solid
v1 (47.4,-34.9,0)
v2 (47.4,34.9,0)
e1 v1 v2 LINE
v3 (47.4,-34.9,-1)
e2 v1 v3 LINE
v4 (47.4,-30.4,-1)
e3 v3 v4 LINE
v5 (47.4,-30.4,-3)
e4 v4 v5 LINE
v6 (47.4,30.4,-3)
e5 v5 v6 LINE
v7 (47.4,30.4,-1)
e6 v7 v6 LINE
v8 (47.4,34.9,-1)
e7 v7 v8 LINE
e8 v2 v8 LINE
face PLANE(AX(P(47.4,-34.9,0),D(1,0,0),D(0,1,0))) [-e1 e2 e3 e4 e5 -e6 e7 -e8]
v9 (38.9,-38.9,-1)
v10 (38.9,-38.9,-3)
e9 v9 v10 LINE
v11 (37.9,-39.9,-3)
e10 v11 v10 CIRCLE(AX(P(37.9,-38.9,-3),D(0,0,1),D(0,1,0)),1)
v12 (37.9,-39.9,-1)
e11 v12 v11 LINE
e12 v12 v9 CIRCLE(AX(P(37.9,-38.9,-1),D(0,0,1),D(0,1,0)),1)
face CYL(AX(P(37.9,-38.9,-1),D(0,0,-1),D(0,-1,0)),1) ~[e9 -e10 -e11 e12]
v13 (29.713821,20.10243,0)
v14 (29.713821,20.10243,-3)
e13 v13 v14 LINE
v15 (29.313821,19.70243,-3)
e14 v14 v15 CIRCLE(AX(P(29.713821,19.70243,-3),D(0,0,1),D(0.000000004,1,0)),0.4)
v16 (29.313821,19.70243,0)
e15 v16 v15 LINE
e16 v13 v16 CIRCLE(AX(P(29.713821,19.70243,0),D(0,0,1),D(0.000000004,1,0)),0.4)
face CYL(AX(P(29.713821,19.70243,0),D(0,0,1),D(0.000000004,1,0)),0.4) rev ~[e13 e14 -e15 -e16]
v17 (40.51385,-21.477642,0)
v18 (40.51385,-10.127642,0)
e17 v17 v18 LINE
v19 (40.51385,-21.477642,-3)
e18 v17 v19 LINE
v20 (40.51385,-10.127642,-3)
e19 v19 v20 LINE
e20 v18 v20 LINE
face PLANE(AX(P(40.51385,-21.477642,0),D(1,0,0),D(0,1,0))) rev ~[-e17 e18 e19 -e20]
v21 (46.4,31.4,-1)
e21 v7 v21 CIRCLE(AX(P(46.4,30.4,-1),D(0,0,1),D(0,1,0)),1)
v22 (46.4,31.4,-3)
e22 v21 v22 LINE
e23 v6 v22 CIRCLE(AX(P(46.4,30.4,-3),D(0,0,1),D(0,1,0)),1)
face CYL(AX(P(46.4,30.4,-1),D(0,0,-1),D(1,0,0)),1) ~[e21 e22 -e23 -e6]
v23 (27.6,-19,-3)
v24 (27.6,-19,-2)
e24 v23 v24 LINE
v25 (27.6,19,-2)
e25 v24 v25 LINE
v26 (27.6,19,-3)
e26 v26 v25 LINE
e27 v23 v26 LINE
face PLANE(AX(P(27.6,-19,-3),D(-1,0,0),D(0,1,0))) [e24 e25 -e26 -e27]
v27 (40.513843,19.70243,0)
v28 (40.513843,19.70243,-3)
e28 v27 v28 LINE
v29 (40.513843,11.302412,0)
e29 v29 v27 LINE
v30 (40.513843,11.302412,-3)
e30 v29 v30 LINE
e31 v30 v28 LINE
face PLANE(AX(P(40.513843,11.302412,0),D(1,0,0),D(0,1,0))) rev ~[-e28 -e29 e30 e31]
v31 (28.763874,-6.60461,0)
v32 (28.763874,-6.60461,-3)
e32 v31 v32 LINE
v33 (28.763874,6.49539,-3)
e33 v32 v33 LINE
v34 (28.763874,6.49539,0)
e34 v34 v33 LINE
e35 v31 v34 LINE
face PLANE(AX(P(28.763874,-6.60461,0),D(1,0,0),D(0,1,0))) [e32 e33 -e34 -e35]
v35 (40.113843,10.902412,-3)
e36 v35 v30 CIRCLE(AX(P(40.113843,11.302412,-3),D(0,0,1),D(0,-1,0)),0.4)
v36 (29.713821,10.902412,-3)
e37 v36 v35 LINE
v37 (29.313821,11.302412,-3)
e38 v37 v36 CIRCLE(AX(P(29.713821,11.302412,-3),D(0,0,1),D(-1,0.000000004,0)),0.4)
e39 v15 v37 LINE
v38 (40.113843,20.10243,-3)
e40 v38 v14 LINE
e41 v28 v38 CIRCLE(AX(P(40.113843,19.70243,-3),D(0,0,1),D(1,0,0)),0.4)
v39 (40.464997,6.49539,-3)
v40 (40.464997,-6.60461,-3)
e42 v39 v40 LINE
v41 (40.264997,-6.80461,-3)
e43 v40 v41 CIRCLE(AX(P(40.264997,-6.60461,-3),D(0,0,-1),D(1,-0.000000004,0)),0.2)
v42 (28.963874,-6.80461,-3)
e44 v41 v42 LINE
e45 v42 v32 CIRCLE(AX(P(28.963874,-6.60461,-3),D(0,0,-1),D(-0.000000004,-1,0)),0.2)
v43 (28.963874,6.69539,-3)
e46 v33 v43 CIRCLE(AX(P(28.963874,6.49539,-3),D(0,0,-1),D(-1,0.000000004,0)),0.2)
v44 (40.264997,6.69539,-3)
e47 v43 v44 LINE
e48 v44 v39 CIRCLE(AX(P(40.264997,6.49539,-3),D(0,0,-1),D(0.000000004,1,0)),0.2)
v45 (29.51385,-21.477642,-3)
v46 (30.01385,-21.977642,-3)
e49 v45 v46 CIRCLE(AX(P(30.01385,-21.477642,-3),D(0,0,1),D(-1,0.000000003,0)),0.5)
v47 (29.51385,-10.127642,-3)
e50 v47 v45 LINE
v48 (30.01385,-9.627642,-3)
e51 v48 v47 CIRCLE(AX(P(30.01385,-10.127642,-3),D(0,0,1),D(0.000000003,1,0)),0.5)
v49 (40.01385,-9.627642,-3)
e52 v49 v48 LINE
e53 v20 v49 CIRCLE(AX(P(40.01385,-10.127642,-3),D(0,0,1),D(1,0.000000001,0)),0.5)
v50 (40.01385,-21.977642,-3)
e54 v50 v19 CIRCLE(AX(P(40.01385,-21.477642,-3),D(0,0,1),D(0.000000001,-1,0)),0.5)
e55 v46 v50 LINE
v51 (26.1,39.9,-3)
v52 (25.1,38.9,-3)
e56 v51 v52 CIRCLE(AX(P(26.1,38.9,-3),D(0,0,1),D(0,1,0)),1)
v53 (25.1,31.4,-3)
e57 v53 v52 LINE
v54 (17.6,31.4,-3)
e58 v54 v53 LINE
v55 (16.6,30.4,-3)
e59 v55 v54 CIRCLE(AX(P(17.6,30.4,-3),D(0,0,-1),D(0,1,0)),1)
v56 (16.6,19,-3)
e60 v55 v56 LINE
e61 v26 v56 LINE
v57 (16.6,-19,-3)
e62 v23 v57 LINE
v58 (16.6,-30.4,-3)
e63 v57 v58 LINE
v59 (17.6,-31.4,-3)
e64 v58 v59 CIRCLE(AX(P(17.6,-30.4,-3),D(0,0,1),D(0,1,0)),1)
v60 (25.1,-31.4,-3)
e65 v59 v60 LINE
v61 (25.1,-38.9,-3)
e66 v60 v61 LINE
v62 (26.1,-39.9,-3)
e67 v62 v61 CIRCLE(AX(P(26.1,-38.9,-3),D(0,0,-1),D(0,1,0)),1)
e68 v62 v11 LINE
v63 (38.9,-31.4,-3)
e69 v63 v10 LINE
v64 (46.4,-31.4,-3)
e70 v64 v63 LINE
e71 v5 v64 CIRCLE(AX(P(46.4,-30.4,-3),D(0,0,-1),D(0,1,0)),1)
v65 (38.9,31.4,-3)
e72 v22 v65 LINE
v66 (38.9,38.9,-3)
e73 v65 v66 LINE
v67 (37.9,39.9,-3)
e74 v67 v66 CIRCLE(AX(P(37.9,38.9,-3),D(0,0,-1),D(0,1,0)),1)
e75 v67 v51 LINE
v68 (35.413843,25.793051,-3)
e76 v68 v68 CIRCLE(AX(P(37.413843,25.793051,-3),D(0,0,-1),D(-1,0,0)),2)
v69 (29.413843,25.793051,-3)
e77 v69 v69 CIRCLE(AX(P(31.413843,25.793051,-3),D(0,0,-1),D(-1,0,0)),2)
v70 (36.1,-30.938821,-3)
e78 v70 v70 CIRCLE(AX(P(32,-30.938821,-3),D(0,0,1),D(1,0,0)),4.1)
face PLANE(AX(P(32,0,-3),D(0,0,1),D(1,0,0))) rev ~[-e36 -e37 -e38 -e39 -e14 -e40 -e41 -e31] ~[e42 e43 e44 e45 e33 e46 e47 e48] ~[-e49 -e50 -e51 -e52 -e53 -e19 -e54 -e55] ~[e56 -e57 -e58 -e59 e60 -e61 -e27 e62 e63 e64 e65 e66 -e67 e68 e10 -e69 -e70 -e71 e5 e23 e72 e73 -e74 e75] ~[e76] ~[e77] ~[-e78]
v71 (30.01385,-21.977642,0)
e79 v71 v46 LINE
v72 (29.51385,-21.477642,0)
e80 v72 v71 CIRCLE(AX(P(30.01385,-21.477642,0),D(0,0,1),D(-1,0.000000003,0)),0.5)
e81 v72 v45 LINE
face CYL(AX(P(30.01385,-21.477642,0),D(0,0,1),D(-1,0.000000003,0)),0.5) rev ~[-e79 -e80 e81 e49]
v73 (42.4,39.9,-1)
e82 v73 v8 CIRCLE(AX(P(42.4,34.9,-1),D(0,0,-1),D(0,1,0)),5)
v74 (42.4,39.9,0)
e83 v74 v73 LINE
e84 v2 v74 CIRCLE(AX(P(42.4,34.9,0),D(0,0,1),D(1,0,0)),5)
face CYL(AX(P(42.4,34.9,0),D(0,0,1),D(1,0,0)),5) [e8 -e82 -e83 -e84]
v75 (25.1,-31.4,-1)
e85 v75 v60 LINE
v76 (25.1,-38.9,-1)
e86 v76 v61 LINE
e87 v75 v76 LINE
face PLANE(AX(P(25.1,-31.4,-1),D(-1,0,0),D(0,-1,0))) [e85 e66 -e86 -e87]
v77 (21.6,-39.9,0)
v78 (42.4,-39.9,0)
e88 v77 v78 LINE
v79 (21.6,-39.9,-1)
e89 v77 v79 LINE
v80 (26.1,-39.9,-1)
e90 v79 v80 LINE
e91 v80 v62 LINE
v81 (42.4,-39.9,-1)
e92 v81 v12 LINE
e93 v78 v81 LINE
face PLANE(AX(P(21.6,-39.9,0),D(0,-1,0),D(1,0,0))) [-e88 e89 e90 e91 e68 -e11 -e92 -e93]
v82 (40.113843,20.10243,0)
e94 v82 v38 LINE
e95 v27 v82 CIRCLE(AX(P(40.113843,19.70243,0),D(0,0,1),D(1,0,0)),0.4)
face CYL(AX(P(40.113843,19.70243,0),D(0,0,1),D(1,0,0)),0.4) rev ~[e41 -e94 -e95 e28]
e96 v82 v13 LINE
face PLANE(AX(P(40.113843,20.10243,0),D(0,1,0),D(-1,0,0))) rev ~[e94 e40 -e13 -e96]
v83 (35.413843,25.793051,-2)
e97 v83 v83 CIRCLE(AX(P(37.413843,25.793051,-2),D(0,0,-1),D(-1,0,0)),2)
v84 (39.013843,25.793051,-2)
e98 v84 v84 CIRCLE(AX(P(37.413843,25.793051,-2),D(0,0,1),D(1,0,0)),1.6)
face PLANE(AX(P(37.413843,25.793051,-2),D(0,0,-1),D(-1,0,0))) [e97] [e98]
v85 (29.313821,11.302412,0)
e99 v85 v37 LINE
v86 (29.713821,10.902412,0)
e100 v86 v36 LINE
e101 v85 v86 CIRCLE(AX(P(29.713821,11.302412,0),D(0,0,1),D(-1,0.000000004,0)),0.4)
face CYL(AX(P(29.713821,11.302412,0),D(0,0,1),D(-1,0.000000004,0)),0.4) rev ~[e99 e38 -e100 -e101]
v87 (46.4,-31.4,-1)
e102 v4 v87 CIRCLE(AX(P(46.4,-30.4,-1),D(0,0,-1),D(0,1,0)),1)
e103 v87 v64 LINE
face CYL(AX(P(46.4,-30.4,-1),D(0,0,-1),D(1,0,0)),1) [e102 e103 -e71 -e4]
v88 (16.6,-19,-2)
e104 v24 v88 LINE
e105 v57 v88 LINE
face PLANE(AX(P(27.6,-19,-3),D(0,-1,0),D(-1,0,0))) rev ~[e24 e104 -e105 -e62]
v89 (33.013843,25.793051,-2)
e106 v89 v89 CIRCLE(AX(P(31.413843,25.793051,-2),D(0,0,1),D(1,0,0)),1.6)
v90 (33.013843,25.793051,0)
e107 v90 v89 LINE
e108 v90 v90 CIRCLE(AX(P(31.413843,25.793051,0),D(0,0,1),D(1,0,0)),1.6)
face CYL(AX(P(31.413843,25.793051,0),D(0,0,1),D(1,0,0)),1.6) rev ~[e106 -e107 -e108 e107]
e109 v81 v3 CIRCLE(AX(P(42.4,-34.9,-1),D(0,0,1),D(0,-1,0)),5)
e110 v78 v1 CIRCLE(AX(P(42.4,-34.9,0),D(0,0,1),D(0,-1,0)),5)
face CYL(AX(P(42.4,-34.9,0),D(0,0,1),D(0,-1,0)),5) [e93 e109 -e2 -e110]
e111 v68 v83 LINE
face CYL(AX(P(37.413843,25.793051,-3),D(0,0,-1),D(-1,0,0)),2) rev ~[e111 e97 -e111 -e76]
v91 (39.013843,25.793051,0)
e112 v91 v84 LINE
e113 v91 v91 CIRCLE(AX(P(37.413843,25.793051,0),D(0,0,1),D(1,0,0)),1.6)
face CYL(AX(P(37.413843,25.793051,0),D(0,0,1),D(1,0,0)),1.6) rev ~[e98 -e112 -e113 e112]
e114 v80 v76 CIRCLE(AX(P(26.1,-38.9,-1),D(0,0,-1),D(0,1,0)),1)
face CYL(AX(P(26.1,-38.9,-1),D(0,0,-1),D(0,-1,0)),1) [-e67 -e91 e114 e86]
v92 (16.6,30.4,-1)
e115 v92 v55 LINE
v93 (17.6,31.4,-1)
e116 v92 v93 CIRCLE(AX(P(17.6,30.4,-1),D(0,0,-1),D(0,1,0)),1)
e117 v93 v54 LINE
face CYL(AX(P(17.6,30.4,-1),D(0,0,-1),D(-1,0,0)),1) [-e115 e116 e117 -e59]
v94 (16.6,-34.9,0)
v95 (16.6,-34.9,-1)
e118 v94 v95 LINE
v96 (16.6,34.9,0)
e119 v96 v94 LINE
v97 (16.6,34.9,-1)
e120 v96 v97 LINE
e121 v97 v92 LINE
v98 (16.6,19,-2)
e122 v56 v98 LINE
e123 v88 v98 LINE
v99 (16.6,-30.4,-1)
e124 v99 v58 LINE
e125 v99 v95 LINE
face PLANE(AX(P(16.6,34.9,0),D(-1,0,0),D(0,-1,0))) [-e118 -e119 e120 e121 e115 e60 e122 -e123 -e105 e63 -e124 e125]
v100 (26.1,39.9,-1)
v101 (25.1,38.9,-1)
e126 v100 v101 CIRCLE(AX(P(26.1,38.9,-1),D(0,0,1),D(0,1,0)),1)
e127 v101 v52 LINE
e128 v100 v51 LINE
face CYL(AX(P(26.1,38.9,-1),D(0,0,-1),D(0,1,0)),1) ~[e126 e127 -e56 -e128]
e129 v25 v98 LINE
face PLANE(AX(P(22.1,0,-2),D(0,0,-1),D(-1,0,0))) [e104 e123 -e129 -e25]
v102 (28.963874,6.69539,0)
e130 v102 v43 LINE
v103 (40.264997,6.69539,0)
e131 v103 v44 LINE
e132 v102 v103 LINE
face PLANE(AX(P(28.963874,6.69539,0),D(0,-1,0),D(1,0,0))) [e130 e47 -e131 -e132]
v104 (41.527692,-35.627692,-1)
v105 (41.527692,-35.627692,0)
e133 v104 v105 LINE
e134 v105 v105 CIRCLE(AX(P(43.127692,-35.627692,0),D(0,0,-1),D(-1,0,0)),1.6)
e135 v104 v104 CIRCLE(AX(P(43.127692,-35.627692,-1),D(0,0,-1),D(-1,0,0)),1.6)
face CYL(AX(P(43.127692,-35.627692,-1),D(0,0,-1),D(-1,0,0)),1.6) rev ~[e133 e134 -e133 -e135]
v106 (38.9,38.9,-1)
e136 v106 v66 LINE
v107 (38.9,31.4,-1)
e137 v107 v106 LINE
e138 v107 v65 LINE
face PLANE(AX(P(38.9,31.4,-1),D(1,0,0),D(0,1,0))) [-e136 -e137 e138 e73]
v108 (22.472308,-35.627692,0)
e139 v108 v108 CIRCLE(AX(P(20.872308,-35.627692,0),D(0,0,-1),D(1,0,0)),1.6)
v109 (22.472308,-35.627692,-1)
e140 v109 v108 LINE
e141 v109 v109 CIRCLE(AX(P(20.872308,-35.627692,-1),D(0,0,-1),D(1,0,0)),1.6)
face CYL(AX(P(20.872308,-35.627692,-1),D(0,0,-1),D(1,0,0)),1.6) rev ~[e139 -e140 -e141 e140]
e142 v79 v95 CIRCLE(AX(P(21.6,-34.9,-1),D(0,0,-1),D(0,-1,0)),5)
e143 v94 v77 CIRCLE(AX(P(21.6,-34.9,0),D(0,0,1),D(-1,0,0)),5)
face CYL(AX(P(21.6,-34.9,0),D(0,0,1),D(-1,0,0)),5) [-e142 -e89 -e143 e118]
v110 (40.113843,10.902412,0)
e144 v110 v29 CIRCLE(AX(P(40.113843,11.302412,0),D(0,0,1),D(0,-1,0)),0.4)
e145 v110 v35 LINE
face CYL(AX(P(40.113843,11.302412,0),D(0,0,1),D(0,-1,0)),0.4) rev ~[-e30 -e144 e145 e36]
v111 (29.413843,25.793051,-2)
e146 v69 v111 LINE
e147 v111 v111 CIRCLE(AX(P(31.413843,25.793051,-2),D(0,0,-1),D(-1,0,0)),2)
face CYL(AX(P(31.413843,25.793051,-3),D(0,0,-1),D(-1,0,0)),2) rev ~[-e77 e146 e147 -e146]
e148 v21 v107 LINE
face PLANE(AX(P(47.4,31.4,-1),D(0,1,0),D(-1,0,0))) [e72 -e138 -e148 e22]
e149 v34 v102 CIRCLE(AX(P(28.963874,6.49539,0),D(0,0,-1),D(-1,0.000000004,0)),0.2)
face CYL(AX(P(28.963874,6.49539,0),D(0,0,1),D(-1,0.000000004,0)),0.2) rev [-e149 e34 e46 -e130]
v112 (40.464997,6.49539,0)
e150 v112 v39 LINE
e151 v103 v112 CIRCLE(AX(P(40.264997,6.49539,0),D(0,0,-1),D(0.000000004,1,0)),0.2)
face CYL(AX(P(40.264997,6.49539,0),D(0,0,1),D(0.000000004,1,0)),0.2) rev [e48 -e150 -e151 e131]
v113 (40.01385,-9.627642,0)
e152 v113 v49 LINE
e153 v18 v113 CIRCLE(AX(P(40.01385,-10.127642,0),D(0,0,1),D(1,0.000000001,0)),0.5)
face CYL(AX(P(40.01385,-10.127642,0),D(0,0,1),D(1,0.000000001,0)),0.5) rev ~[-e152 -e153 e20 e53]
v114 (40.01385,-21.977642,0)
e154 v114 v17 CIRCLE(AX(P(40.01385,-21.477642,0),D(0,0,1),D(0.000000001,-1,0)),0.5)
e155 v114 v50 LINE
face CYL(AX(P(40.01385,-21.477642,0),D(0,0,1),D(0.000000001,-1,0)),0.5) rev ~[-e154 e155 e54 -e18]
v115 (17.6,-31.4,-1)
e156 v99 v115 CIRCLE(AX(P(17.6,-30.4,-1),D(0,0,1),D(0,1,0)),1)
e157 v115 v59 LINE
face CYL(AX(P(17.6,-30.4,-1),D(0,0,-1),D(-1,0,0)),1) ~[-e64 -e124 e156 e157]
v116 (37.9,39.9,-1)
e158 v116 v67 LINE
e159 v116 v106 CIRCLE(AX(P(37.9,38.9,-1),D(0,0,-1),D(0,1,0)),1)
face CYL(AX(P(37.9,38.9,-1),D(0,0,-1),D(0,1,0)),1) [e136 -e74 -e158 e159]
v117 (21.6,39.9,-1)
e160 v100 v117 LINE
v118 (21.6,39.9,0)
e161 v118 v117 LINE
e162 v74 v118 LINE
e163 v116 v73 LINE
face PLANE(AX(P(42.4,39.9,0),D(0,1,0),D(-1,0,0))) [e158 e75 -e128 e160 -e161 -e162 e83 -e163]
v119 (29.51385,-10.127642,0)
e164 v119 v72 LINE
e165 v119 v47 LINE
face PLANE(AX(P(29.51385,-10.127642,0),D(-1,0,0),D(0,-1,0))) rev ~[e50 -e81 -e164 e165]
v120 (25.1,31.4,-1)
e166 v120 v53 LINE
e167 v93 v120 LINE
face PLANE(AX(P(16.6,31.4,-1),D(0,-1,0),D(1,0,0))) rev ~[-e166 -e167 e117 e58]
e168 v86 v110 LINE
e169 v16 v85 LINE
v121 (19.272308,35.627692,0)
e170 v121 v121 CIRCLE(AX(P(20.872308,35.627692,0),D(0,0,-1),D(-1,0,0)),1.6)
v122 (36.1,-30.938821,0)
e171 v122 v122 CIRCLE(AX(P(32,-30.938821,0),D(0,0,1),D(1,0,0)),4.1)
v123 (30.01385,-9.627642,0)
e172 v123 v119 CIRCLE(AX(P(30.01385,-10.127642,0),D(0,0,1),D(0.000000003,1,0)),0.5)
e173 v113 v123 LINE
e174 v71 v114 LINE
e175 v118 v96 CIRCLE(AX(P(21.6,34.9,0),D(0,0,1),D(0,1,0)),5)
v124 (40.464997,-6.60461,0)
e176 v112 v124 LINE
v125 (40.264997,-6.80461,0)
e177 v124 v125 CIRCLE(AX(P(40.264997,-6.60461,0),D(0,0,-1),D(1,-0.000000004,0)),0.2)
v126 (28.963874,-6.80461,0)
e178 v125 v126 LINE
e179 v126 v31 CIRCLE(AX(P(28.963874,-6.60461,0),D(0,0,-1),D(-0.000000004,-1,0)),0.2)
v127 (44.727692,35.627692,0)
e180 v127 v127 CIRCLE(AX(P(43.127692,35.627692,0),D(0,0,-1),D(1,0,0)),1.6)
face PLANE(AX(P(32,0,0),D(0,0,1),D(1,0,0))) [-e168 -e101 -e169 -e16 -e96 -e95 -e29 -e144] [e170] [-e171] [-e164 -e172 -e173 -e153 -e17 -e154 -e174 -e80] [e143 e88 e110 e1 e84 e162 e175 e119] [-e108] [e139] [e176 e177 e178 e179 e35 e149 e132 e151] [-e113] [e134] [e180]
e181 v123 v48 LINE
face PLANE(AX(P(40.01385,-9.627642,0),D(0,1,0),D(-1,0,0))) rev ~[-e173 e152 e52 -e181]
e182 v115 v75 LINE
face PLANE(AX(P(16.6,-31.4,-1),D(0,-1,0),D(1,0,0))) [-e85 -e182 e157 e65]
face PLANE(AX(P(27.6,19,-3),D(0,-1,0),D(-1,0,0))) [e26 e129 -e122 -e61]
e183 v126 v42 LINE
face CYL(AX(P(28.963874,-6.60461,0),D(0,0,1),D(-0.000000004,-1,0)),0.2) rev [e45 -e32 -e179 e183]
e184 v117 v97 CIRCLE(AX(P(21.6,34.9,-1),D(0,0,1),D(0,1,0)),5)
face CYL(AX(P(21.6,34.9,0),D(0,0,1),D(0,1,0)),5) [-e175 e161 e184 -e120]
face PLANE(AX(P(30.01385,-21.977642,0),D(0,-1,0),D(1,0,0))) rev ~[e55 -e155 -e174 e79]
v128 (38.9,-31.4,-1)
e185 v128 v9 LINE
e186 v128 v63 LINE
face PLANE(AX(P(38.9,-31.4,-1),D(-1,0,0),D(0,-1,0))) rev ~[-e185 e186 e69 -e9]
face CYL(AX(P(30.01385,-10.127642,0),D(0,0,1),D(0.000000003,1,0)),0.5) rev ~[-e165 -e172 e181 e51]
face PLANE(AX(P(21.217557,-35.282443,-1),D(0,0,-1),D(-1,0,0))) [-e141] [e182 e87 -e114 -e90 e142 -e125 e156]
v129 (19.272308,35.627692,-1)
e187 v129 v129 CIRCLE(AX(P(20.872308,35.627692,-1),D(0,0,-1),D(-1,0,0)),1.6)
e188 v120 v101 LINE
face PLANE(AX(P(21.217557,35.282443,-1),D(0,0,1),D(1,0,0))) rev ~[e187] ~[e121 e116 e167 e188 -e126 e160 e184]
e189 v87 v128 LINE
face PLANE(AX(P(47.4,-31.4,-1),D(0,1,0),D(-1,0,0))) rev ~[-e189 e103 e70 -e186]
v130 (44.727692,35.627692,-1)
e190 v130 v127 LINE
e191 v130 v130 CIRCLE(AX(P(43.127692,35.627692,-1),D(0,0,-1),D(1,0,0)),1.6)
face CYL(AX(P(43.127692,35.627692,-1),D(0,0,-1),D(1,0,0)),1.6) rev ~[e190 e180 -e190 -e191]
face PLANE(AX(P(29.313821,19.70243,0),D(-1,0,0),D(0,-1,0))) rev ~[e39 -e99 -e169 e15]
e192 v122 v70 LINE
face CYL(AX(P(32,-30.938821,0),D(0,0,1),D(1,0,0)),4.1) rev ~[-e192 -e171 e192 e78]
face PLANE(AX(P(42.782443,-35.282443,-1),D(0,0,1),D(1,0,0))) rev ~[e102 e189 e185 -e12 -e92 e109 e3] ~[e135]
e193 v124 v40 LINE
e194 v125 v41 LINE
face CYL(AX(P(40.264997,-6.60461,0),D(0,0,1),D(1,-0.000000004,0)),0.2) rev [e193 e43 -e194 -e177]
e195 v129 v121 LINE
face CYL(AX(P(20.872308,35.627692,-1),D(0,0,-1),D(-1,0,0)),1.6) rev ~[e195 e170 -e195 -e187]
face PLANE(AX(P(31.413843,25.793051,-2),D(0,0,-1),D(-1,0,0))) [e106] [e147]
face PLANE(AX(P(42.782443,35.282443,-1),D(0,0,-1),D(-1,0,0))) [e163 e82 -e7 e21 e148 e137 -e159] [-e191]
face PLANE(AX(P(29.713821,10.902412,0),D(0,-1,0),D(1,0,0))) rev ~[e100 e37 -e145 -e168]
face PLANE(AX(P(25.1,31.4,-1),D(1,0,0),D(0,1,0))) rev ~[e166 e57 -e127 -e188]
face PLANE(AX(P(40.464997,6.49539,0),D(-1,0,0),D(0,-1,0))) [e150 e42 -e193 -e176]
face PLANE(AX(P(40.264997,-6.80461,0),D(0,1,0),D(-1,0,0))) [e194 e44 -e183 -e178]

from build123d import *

# Parameters (mm, degrees)
SKETCH_1_R          = 1.6
EXTRUDE_1_DEPTH     = 3
SKETCH_2_W          = 11
SKETCH_2_H          = 38
CUT_EXTRUDE_1_DEPTH = 1
CUT_EXTRUDE_START   = -2
CUT_EXTRUDE_2_DEPTH = 2
SKETCH_4_R          = 1.6
CUT_EXTRUDE_3_DEPTH = 62.990079852
SKETCH_6_R          = 2
CUT_EXTRUDE_4_DEPTH = 1
SKETCH_7_R          = 4.1
CUT_EXTRUDE_5_DEPTH = 63.030395775
FILLET_1_R          = 1


with BuildPart() as part:
    # 草图1 → 凸台-拉伸1 (new body)
    with BuildSketch(Plane.XY):
        with BuildLine():
            Line((47.4, -34.9), (47.4, 34.9))
            ThreePointArc((47.4, 34.9), (45.935533906, 38.435533906), (42.4, 39.9))
            Line((42.4, 39.9), (21.6, 39.9))
            ThreePointArc((21.6, 39.9), (18.064466094, 38.435533906), (16.6, 34.9))
            Line((16.6, 34.9), (16.6, -34.9))
            ThreePointArc((16.6, -34.9), (18.064466094, -38.435533906), (21.6, -39.9))
            Line((21.6, -39.9), (42.4, -39.9))
            ThreePointArc((42.4, -39.9), (45.935533906, -38.435533906), (47.4, -34.9))
        make_face()
        with Locations((37.413843028, 25.79305128)):
            Circle(SKETCH_1_R, mode=Mode.SUBTRACT)
        with Locations((31.413843028, 25.79305128)):
            Circle(SKETCH_1_R, mode=Mode.SUBTRACT)
        with BuildLine():
            Line((40.513850359, -21.477641558), (40.513850359, -10.127641653))
            ThreePointArc((40.513850359, -10.127641653), (40.367403749, -9.774088262), (40.013850359, -9.627641653))
            Line((40.013850359, -9.627641653), (30.013850359, -9.627641653))
            ThreePointArc((30.013850359, -9.627641653), (29.660296968, -9.774088262), (29.513850359, -10.127641653))
            Line((29.513850359, -10.127641653), (29.513850359, -21.477641558))
            ThreePointArc((29.513850359, -21.477641558), (29.660296968, -21.831194949), (30.013850359, -21.977641558))
            Line((30.013850359, -21.977641558), (40.013850359, -21.977641558))
            ThreePointArc((40.013850359, -21.977641558), (40.367403749, -21.831194949), (40.513850359, -21.477641558))
        make_face(mode=Mode.SUBTRACT)
        with BuildLine():
            Line((40.464996896, 6.495389649), (40.464996896, -6.604609867))
            ThreePointArc((40.464996896, -6.604609867), (40.406418252, -6.746031223), (40.264996896, -6.804609867))
            Line((40.264996896, -6.804609867), (28.963873947, -6.804609867))
            ThreePointArc((28.963873947, -6.804609867), (28.822452591, -6.746031223), (28.763873947, -6.604609867))
            Line((28.763873947, -6.604609867), (28.763873947, 6.495389649))
            ThreePointArc((28.763873947, 6.495389649), (28.822452591, 6.636811005), (28.963873947, 6.695389649))
            Line((28.963873947, 6.695389649), (40.264996896, 6.695389649))
            ThreePointArc((40.264996896, 6.695389649), (40.406418252, 6.636811005), (40.464996896, 6.495389649))
        make_face(mode=Mode.SUBTRACT)
        with BuildLine():
            Line((40.513843009, 11.302412116), (40.513843009, 19.702429875))
            ThreePointArc((40.513843009, 19.702429875), (40.396685721, 19.985272588), (40.113843009, 20.102429875))
            Line((40.113843009, 20.102429875), (29.713821303, 20.102429875))
            ThreePointArc((29.713821303, 20.102429875), (29.43097859, 19.985272588), (29.313821303, 19.702429875))
            Line((29.313821303, 19.702429875), (29.313821303, 11.302412116))
            ThreePointArc((29.313821303, 11.302412116), (29.43097859, 11.019569403), (29.713821303, 10.902412116))
            Line((29.713821303, 10.902412116), (40.113843009, 10.902412116))
            ThreePointArc((40.113843009, 10.902412116), (40.396685721, 11.019569403), (40.513843009, 11.302412116))
        make_face(mode=Mode.SUBTRACT)
    extrude(amount=-EXTRUDE_1_DEPTH)

    # 草图2 → 切除-拉伸1 (cut)
    with BuildSketch(Plane(origin=(0, 0, -3), x_dir=(-1, 0, 0), z_dir=(0, 0, -1))):
        with Locations((-22.1, 0)):
            Rectangle(SKETCH_2_W, SKETCH_2_H)
    extrude(amount=-CUT_EXTRUDE_1_DEPTH, mode=Mode.SUBTRACT)

    # 草图3 → 切除-拉伸2 (cut)
    with BuildSketch(Plane(origin=(0, 0, -3), x_dir=(-1, 0, 0), z_dir=(0, 0, -1)).offset(CUT_EXTRUDE_START)):
        with BuildLine():
            Line((-47.4, -31.4), (-38.9, -31.4))
            Line((-38.9, -31.4), (-38.9, -39.9))
            Line((-38.9, -39.9), (-42.4, -39.9))
            ThreePointArc((-42.4, -39.9), (-45.935533906, -38.435533906), (-47.4, -34.9))
            Line((-47.4, -34.9), (-47.4, -31.4))
        make_face()
        with BuildLine():
            Line((-47.4, 34.9), (-47.4, 31.4))
            Line((-47.4, 31.4), (-38.9, 31.4))
            Line((-38.9, 31.4), (-38.9, 39.9))
            Line((-38.9, 39.9), (-42.4, 39.9))
            ThreePointArc((-42.4, 39.9), (-45.935533906, 38.435533906), (-47.4, 34.9))
        make_face()
        with BuildLine():
            Line((-16.6, 31.4), (-25.1, 31.4))
            Line((-25.1, 31.4), (-25.1, 39.9))
            Line((-25.1, 39.9), (-21.6, 39.9))
            ThreePointArc((-21.6, 39.9), (-18.064466094, 38.435533906), (-16.6, 34.9))
            Line((-16.6, 34.9), (-16.6, 31.4))
        make_face()
        with BuildLine():
            Line((-16.6, -34.9), (-16.6, -31.4))
            Line((-16.6, -31.4), (-25.1, -31.4))
            Line((-25.1, -31.4), (-25.1, -39.9))
            Line((-25.1, -39.9), (-21.6, -39.9))
            ThreePointArc((-21.6, -39.9), (-18.064466094, -38.435533906), (-16.6, -34.9))
        make_face()
    extrude(amount=CUT_EXTRUDE_2_DEPTH, mode=Mode.SUBTRACT)

    # 草图4 → 切除-拉伸3 (cut, through all)
    with BuildSketch(Plane(origin=(0, 0, -1), x_dir=(-1, 0, 0), z_dir=(0, 0, -1))):
        with Locations((-20.872307757, 35.627692243)):
            Circle(SKETCH_4_R)
        with Locations(Location((-20.872307757, -35.627692243, 0), (0, 0, 180))):
            Circle(SKETCH_4_R)
        with Locations((-43.127692243, -35.627692243)):
            Circle(SKETCH_4_R)
        with Locations(Location((-43.127692243, 35.627692243, 0), (0, 0, 180))):
            Circle(SKETCH_4_R)
    extrude(amount=-CUT_EXTRUDE_3_DEPTH, mode=Mode.SUBTRACT)

    # 草图6 → 切除-拉伸4 (cut)
    with BuildSketch(Plane(origin=(0, 0, -3), x_dir=(-1, 0, 0), z_dir=(0, 0, -1))):
        with Locations((-37.413843028, 25.79305128)):
            Circle(SKETCH_6_R)
        with Locations((-31.413843028, 25.79305128)):
            Circle(SKETCH_6_R)
    extrude(amount=-CUT_EXTRUDE_4_DEPTH, mode=Mode.SUBTRACT)

    # 草图7 → 切除-拉伸5 (cut, through all)
    with BuildSketch(Plane.XY):
        with Locations((32, -30.938820779)):
            Circle(SKETCH_7_R)
    extrude(amount=-CUT_EXTRUDE_5_DEPTH, mode=Mode.SUBTRACT)

    # 圆角1
    fillet_1_edges = [part.edges().sort_by_distance(p)[0] for p in [
        (25.1, -39.9, -2),
        (16.6, -31.4, -2),
        (16.6, 31.4, -2),
        (25.1, 39.9, -2),
        (38.9, 39.9, -2),
        (47.4, 31.4, -2),
        (47.4, -31.4, -2),
        (38.9, -39.9, -2),
    ]]
    fillet(fillet_1_edges, radius=FILLET_1_R)


solid = part.part
